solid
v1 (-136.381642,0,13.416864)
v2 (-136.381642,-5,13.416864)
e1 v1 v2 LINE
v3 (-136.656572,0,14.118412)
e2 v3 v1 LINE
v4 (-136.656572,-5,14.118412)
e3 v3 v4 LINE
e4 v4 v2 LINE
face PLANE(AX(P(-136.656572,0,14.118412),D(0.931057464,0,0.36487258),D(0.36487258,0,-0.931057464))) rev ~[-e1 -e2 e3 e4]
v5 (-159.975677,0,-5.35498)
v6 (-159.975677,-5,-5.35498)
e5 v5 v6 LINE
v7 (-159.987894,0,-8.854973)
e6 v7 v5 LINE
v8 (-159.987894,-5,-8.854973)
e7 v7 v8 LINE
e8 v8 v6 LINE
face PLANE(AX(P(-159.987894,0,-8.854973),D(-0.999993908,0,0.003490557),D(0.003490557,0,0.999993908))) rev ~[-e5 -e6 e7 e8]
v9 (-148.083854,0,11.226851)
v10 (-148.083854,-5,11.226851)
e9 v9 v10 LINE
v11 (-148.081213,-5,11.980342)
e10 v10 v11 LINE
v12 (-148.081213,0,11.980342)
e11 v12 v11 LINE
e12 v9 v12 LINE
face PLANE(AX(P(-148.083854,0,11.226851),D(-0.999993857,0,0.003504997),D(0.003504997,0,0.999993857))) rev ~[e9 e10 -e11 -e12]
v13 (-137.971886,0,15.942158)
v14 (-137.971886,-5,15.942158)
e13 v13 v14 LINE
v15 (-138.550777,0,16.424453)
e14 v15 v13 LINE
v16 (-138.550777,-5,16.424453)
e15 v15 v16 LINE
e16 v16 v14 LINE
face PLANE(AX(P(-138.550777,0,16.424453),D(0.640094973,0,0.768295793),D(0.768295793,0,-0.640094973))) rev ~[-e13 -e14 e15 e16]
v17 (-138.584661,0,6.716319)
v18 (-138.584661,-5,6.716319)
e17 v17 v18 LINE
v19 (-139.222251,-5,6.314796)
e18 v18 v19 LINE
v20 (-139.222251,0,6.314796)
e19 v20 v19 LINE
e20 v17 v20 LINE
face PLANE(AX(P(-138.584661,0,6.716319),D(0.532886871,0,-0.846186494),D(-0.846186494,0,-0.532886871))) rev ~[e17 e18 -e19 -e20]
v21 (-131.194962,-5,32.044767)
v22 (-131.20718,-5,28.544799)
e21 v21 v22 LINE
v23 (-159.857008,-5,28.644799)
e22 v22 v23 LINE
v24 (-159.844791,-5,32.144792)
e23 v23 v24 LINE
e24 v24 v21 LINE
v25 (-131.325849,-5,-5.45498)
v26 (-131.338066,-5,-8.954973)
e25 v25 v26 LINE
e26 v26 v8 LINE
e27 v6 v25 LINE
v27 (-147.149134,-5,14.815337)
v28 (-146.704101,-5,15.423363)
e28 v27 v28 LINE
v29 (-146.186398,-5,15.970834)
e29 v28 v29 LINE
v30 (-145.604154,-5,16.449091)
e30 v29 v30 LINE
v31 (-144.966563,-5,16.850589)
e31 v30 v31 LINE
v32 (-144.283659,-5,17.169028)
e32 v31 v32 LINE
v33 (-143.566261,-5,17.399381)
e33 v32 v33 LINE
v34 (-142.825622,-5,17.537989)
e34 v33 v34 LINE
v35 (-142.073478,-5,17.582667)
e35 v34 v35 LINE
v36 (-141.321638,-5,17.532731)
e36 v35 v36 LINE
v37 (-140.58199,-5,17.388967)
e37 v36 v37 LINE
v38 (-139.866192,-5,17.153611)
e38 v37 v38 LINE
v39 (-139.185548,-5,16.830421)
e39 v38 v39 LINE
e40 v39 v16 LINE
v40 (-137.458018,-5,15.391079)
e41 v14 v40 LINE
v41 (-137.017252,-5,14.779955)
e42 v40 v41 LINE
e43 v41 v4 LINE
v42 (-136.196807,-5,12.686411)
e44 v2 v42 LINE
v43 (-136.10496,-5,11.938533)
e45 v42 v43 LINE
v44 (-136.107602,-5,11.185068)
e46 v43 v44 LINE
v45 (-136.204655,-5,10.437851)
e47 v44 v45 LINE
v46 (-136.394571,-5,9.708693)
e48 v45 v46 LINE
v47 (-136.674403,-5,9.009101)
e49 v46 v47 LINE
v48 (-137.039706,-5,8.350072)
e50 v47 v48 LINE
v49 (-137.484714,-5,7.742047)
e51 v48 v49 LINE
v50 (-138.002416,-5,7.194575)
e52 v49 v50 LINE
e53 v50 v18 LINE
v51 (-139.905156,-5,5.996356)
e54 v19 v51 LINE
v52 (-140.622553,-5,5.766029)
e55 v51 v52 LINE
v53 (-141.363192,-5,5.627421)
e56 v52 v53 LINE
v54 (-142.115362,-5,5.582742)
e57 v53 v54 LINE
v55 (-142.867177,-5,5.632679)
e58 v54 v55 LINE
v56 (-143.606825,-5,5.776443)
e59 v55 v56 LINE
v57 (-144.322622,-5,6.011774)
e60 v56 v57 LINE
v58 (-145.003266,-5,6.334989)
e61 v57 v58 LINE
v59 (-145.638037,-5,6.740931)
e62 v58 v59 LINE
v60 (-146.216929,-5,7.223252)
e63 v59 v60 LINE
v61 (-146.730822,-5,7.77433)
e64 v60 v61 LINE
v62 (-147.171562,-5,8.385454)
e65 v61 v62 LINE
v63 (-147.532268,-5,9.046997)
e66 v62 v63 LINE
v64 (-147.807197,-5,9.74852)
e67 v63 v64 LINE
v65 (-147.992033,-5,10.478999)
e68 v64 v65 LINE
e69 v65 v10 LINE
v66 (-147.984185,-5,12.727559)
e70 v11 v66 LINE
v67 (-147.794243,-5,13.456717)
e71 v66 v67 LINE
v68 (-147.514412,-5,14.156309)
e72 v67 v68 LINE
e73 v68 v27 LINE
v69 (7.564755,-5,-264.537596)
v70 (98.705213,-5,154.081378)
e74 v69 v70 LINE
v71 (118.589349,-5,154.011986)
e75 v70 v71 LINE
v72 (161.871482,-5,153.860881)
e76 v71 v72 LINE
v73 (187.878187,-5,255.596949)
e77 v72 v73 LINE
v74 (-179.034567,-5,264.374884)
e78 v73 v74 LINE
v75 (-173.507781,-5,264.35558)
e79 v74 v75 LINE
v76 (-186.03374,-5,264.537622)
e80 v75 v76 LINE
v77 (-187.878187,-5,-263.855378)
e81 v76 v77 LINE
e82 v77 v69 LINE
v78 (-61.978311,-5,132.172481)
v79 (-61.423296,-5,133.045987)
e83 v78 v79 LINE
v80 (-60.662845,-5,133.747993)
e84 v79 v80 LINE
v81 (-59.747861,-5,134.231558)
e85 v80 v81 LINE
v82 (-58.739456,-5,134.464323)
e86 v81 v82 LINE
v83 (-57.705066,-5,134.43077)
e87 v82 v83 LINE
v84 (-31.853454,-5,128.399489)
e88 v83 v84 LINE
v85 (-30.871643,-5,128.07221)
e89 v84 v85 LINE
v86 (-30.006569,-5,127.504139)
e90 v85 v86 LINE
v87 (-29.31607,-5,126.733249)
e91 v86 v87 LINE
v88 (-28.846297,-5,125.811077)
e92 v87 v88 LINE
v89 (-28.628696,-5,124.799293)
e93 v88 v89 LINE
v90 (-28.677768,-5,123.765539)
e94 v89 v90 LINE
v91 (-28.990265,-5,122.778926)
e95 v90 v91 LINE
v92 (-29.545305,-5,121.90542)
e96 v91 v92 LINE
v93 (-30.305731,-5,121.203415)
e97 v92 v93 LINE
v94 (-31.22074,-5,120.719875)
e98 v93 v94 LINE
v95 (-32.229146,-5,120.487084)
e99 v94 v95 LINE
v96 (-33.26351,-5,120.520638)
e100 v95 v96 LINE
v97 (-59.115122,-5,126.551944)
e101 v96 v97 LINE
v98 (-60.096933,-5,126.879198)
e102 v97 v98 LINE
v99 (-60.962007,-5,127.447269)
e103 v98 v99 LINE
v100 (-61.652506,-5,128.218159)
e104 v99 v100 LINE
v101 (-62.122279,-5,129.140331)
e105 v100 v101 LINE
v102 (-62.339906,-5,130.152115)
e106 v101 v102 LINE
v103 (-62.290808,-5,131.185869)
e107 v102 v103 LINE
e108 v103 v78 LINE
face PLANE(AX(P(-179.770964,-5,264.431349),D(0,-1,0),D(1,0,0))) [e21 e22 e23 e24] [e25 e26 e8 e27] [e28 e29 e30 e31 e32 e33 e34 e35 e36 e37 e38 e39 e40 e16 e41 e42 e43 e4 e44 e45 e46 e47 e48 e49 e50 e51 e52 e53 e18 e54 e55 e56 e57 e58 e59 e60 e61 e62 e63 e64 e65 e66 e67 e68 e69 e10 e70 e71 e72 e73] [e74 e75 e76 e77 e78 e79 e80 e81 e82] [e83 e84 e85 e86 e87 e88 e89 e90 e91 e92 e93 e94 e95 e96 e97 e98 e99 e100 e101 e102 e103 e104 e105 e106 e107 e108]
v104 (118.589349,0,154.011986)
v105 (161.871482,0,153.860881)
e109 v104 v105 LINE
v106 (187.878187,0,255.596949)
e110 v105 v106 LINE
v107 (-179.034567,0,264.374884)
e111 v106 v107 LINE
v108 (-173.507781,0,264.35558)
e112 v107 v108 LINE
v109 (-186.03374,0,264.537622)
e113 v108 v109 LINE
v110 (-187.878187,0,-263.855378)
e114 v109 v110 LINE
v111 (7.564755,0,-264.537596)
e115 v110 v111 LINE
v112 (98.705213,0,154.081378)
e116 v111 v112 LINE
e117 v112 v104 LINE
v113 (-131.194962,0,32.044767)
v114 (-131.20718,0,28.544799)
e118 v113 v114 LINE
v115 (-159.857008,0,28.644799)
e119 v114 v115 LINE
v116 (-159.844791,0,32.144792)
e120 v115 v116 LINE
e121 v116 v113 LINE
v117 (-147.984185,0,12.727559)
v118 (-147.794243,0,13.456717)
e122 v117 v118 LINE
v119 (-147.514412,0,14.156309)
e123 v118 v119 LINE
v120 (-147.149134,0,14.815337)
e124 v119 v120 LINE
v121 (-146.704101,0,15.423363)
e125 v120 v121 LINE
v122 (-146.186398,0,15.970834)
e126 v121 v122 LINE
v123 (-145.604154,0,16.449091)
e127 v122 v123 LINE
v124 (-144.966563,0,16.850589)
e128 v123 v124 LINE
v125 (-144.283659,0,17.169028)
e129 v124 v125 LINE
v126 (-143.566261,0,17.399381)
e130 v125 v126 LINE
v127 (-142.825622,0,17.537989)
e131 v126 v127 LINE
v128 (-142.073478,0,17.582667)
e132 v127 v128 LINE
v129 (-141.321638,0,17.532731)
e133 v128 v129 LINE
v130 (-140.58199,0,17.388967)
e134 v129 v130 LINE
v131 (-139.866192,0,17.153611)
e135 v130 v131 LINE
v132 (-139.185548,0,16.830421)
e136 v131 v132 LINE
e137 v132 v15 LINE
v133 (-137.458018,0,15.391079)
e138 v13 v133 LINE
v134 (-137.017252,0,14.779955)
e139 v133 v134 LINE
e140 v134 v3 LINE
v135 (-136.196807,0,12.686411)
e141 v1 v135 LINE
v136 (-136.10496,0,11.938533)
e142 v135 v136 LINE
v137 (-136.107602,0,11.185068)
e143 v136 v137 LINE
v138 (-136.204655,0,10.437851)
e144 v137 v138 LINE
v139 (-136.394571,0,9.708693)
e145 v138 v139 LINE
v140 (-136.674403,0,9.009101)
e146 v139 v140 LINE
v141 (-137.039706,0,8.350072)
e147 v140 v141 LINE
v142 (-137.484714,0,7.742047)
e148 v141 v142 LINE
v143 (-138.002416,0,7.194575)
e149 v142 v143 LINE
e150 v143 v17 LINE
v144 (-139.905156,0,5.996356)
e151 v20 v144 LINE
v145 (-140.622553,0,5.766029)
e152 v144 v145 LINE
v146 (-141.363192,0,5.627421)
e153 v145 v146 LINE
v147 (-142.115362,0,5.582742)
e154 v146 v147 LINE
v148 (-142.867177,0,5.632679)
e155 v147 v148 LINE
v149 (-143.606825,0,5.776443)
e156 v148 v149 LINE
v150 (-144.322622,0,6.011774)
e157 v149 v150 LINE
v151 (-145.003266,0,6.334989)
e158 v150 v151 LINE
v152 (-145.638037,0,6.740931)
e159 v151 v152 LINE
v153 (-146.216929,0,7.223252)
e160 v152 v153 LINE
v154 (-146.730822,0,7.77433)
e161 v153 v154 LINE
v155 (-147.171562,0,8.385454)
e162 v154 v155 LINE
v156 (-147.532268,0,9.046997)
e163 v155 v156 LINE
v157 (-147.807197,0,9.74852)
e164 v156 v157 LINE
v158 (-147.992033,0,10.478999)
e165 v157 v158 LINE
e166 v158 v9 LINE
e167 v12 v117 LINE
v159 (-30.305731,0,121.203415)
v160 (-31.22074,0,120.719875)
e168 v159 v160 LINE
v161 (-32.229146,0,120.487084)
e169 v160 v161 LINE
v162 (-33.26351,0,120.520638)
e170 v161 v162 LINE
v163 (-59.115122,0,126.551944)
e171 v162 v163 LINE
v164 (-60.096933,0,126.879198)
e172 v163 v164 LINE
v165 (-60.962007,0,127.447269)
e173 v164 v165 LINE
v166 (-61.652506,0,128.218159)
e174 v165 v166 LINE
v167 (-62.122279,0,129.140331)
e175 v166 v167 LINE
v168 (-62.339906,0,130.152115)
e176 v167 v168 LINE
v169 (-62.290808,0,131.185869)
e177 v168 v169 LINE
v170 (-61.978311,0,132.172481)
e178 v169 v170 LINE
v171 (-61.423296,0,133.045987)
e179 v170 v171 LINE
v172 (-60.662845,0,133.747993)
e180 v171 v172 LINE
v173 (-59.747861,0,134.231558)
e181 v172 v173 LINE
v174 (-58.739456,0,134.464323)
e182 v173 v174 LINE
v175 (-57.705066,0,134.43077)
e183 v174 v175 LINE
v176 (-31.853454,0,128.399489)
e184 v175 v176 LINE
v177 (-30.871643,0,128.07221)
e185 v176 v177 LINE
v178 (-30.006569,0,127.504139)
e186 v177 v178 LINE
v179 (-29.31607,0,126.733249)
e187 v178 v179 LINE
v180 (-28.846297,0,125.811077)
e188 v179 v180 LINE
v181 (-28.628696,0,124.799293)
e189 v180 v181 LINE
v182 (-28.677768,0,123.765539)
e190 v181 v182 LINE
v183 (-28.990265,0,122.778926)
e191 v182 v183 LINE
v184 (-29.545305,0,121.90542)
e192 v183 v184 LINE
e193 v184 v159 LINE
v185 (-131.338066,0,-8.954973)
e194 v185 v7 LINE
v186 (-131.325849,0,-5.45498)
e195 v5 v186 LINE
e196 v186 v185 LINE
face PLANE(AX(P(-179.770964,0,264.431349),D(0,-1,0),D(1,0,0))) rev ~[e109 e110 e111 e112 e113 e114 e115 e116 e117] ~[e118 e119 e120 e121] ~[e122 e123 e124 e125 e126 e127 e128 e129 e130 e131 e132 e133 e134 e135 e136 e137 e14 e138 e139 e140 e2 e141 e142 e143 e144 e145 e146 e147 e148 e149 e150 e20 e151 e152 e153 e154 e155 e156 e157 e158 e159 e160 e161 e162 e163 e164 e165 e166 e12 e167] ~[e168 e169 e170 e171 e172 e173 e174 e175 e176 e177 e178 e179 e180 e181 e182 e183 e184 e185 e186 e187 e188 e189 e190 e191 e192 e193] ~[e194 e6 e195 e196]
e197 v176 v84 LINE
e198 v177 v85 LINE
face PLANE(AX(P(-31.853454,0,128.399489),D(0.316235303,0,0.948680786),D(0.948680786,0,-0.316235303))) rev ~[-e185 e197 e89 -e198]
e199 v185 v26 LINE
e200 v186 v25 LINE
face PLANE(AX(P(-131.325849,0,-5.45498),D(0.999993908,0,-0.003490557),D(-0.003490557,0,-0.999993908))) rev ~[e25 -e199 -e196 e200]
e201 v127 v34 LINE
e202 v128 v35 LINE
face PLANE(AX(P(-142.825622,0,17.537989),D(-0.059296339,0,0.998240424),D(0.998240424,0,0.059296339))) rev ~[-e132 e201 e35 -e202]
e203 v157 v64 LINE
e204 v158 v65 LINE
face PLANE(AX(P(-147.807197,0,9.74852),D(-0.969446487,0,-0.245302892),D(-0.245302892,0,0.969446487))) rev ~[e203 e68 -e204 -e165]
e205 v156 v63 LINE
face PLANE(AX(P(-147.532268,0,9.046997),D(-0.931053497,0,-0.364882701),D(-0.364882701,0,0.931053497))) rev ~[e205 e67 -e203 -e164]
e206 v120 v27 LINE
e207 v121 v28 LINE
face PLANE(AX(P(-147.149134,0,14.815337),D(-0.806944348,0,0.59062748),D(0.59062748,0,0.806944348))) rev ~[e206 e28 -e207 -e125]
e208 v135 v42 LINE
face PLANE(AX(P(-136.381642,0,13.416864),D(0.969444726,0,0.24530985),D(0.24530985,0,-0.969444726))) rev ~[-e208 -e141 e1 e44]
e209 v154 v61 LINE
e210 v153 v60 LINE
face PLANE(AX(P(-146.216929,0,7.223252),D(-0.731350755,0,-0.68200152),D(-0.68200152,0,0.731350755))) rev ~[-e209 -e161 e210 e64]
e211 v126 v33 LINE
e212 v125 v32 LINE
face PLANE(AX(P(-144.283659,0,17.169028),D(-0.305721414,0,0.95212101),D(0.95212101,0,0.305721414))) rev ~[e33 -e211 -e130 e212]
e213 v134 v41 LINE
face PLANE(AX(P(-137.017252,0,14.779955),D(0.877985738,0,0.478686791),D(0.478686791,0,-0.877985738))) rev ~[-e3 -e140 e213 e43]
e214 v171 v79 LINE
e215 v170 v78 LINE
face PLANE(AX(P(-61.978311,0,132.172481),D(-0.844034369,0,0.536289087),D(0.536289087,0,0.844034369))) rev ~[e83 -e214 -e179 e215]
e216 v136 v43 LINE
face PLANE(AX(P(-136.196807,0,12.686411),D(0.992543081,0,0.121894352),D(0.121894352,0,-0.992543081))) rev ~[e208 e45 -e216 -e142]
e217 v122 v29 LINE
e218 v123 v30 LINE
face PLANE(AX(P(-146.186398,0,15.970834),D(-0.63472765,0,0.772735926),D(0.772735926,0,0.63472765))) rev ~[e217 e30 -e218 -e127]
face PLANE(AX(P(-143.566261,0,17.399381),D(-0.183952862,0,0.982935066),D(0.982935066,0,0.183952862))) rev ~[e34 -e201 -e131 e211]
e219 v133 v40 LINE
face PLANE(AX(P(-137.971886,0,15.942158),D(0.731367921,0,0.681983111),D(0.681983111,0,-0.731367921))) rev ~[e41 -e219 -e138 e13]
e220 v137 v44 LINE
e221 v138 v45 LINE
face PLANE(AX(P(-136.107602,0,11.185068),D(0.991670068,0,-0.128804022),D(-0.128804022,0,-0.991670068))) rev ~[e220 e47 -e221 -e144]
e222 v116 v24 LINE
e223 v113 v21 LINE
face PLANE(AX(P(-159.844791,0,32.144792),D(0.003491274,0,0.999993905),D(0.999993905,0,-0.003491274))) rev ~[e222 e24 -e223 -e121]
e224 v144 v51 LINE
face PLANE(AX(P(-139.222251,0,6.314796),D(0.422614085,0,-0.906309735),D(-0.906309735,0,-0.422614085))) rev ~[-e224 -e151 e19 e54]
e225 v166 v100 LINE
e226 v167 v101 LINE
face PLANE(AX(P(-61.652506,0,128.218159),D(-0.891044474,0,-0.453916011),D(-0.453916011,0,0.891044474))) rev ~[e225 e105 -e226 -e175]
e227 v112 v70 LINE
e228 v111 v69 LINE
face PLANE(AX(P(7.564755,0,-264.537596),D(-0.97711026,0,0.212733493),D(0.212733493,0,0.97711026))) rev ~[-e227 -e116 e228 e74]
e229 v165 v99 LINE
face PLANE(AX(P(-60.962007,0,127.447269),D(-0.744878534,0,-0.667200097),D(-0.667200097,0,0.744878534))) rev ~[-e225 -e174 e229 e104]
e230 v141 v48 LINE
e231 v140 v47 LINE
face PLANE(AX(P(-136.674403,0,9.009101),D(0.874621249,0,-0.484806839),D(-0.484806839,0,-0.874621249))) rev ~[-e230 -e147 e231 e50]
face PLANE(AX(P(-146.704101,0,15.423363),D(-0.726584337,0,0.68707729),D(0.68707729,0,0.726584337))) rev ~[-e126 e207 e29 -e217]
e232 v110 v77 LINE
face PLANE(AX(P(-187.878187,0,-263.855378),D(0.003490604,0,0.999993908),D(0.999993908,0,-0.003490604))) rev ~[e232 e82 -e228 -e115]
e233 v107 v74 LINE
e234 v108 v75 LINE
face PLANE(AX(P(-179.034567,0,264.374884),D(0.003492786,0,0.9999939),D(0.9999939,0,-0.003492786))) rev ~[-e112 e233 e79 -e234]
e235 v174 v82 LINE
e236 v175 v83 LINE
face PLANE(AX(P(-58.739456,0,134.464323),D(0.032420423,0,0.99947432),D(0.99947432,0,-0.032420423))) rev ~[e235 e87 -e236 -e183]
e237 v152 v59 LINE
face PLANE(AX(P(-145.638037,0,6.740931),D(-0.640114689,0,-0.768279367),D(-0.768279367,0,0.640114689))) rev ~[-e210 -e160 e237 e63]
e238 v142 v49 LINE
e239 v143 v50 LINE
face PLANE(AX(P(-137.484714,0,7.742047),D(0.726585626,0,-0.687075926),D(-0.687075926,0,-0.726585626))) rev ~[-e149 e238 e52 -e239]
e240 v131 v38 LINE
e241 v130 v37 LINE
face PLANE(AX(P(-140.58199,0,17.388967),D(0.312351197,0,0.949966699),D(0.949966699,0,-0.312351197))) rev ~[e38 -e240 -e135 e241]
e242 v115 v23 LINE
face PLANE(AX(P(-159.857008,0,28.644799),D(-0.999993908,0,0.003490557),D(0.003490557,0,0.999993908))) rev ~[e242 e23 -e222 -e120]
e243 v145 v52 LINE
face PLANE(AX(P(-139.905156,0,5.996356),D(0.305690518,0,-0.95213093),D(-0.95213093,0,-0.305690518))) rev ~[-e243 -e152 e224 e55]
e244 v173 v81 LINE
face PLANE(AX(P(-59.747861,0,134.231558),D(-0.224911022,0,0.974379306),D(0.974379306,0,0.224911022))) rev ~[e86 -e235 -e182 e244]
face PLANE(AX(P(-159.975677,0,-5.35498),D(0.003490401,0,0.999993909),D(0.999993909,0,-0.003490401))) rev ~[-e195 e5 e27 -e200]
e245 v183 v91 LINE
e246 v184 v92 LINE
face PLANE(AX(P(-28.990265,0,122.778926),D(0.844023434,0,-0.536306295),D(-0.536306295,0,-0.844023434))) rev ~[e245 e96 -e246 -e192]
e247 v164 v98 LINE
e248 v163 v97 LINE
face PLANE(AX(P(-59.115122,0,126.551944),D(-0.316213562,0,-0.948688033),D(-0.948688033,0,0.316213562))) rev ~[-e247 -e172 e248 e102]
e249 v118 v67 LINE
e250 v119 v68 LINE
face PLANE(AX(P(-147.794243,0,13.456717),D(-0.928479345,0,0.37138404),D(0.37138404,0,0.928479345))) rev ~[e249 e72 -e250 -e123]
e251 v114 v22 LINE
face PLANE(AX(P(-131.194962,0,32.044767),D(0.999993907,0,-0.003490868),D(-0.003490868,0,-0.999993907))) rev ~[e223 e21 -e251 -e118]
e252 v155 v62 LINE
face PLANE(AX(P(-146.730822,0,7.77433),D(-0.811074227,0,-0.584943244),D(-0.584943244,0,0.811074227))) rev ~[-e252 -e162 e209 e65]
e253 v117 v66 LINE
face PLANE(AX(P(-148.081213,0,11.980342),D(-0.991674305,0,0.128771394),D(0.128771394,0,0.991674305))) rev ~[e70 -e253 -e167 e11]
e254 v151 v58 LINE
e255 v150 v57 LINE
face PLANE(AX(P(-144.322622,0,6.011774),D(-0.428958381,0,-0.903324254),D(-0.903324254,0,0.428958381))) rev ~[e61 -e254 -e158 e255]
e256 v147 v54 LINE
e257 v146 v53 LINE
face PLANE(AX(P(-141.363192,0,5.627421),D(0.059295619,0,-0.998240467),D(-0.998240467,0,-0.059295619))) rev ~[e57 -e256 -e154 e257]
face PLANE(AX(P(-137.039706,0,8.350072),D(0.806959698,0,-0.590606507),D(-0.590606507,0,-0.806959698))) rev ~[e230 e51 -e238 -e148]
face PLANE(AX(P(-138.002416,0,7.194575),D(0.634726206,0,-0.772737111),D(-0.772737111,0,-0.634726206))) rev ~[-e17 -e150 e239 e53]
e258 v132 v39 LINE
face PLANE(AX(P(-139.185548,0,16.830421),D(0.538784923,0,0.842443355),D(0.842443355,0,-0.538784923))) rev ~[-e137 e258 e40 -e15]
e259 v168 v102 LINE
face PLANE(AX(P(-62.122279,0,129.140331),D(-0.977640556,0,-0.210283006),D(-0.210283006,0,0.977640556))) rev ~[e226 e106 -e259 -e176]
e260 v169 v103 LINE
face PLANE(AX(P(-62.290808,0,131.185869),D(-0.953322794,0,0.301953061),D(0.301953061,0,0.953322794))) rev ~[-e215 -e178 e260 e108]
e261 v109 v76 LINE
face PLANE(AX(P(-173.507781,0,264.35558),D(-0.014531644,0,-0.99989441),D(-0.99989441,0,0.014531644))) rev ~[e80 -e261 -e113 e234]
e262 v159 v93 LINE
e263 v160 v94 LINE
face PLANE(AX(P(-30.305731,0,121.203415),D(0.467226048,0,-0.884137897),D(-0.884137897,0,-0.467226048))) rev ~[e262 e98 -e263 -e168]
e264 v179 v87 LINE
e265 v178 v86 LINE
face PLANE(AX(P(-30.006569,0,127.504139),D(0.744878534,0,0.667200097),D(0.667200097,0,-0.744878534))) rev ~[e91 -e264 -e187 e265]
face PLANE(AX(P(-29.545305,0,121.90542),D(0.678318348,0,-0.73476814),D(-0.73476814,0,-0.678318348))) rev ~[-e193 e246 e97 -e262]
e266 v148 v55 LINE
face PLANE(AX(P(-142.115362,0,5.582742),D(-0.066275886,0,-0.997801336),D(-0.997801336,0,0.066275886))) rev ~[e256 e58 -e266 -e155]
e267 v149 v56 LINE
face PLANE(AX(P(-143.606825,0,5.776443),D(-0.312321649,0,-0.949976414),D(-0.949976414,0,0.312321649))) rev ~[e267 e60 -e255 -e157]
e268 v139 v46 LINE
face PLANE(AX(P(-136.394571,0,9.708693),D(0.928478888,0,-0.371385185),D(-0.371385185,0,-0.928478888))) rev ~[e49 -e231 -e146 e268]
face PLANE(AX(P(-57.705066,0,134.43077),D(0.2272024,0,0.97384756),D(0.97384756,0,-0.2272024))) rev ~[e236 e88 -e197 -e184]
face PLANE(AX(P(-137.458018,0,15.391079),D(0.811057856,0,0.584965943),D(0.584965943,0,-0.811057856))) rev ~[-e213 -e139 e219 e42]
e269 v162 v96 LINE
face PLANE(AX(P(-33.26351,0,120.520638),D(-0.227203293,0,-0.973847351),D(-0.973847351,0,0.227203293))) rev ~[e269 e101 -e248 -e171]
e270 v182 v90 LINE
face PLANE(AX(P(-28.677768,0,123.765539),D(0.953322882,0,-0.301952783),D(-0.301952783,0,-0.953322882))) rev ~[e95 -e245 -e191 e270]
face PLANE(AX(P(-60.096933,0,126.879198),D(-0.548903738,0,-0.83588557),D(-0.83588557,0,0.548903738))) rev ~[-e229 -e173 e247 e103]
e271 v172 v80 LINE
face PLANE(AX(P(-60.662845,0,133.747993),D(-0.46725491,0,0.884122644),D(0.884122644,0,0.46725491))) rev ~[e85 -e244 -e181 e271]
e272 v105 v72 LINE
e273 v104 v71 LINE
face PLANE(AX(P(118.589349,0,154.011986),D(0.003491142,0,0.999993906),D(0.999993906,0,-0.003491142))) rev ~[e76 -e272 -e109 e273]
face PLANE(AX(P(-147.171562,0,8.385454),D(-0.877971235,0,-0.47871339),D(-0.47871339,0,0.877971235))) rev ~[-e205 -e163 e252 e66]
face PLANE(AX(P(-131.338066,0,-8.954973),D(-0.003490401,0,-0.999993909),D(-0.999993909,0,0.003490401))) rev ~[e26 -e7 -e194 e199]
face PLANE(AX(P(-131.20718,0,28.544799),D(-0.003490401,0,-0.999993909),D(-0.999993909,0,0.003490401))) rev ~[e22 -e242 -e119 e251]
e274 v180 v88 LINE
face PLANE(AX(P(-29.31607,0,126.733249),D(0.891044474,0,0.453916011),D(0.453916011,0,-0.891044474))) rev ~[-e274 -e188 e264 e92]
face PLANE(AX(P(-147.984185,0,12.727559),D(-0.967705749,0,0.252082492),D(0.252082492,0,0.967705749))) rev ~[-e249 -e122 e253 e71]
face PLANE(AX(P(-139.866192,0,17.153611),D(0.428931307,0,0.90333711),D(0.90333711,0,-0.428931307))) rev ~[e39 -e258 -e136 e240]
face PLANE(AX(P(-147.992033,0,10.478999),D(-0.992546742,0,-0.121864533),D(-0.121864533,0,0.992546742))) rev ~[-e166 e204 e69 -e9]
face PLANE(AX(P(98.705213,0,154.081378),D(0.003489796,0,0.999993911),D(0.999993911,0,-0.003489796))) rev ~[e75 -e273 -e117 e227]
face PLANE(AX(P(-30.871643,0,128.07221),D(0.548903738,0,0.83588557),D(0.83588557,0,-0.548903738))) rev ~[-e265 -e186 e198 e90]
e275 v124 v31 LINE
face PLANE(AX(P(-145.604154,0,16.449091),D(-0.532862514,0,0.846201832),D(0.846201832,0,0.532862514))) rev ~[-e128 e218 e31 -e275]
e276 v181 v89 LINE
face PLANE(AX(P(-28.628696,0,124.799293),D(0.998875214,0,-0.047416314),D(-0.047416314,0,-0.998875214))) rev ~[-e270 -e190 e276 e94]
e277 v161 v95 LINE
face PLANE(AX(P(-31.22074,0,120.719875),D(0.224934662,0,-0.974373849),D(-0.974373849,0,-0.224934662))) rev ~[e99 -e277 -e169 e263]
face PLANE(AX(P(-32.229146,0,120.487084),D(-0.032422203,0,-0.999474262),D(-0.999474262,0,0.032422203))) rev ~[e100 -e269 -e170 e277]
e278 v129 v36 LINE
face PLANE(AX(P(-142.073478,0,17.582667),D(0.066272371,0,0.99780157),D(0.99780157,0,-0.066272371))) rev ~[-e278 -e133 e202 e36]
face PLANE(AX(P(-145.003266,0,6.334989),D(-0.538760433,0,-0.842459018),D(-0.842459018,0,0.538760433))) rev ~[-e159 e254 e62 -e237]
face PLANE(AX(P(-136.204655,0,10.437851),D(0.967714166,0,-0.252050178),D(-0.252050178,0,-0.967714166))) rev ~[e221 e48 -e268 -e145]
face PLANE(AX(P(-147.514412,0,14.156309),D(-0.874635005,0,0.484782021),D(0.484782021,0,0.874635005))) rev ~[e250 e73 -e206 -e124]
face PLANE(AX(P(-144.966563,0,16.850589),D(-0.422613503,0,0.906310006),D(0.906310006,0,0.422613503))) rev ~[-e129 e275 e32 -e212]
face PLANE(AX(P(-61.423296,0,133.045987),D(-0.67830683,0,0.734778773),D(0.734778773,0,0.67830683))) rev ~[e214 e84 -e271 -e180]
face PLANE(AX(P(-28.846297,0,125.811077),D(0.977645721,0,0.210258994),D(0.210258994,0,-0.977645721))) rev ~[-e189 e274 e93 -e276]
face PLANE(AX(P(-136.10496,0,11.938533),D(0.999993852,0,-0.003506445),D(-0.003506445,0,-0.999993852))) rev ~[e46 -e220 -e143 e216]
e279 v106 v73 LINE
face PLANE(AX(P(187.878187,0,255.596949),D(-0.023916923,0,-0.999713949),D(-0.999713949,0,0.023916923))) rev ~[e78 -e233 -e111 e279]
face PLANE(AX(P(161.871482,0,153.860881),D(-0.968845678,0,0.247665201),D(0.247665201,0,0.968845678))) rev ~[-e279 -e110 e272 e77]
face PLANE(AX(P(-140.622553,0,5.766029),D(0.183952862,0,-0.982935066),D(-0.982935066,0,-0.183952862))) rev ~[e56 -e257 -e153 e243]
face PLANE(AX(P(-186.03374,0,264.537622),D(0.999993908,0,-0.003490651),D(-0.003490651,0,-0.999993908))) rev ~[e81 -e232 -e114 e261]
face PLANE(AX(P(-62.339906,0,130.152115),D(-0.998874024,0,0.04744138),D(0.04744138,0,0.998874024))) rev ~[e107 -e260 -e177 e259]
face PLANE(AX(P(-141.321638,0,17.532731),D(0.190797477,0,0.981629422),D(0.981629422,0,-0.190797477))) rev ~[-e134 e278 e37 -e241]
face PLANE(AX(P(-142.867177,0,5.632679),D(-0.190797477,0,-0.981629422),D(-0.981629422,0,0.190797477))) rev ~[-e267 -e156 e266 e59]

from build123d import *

# Parameters (mm, degrees)
F1_DEPTH = 5


with BuildPart() as f1:
    # F0 (on Front) → F1 (new body)
    with BuildSketch(Plane.XZ):
        Polygon((-179.034567, 264.374884), (-173.507781, 264.35558), (-186.03374, 264.537622), align=None)
        Polygon((-179.034567, 264.374884), (-186.03374, 264.537622), (-187.878187, -263.855378), (7.564755, -264.537596), (98.705213, 154.081378), (118.589349, 154.011986), (161.871482, 153.860881), (187.878187, 255.596949), align=None)
        Polygon((-131.338066, -8.954973), (-159.987894, -8.854973), (-159.975677, -5.35498), (-131.325849, -5.45498), align=None, mode=Mode.SUBTRACT)
        Polygon((-148.081213, 11.980342), (-147.984185, 12.727559), (-147.794243, 13.456717), (-147.514412, 14.156309), (-147.149134, 14.815337), (-146.704101, 15.423363), (-146.186398, 15.970834), (-145.604154, 16.449091), (-144.966563, 16.850589), (-144.283659, 17.169028), (-143.566261, 17.399381), (-142.825622, 17.537989), (-142.073478, 17.582667), (-141.321638, 17.532731), (-140.58199, 17.388967), (-139.866192, 17.153611), (-139.185548, 16.830421), (-138.550777, 16.424453), (-137.971886, 15.942158), (-137.458018, 15.391079), (-137.017252, 14.779955), (-136.656572, 14.118412), (-136.381642, 13.416864), (-136.196807, 12.686411), (-136.10496, 11.938533), (-136.107602, 11.185068), (-136.204655, 10.437851), (-136.394571, 9.708693), (-136.674403, 9.009101), (-137.039706, 8.350072), (-137.484714, 7.742047), (-138.002416, 7.194575), (-138.584661, 6.716319), (-139.222251, 6.314796), (-139.905156, 5.996356), (-140.622553, 5.766029), (-141.363192, 5.627421), (-142.115362, 5.582742), (-142.867177, 5.632679), (-143.606825, 5.776443), (-144.322622, 6.011774), (-145.003266, 6.334989), (-145.638037, 6.740931), (-146.216929, 7.223252), (-146.730822, 7.77433), (-147.171562, 8.385454), (-147.532268, 9.046997), (-147.807197, 9.74852), (-147.992033, 10.478999), (-148.083854, 11.226851), align=None, mode=Mode.SUBTRACT)
        Polygon((-131.20718, 28.544799), (-159.857008, 28.644799), (-159.844791, 32.144792), (-131.194962, 32.044767), align=None, mode=Mode.SUBTRACT)
        Polygon((-32.229146, 120.487084), (-33.26351, 120.520638), (-59.115122, 126.551944), (-60.096933, 126.879198), (-60.962007, 127.447269), (-61.652506, 128.218159), (-62.122279, 129.140331), (-62.339906, 130.152115), (-62.290808, 131.185869), (-61.978311, 132.172481), (-61.423296, 133.045987), (-60.662845, 133.747993), (-59.747861, 134.231558), (-58.739456, 134.464323), (-57.705066, 134.43077), (-31.853454, 128.399489), (-30.871643, 128.07221), (-30.006569, 127.504139), (-29.31607, 126.733249), (-28.846297, 125.811077), (-28.628696, 124.799293), (-28.677768, 123.765539), (-28.990265, 122.778926), (-29.545305, 121.90542), (-30.305731, 121.203415), (-31.22074, 120.719875), align=None, mode=Mode.SUBTRACT)
    extrude(amount=F1_DEPTH)


solid = f1.part
